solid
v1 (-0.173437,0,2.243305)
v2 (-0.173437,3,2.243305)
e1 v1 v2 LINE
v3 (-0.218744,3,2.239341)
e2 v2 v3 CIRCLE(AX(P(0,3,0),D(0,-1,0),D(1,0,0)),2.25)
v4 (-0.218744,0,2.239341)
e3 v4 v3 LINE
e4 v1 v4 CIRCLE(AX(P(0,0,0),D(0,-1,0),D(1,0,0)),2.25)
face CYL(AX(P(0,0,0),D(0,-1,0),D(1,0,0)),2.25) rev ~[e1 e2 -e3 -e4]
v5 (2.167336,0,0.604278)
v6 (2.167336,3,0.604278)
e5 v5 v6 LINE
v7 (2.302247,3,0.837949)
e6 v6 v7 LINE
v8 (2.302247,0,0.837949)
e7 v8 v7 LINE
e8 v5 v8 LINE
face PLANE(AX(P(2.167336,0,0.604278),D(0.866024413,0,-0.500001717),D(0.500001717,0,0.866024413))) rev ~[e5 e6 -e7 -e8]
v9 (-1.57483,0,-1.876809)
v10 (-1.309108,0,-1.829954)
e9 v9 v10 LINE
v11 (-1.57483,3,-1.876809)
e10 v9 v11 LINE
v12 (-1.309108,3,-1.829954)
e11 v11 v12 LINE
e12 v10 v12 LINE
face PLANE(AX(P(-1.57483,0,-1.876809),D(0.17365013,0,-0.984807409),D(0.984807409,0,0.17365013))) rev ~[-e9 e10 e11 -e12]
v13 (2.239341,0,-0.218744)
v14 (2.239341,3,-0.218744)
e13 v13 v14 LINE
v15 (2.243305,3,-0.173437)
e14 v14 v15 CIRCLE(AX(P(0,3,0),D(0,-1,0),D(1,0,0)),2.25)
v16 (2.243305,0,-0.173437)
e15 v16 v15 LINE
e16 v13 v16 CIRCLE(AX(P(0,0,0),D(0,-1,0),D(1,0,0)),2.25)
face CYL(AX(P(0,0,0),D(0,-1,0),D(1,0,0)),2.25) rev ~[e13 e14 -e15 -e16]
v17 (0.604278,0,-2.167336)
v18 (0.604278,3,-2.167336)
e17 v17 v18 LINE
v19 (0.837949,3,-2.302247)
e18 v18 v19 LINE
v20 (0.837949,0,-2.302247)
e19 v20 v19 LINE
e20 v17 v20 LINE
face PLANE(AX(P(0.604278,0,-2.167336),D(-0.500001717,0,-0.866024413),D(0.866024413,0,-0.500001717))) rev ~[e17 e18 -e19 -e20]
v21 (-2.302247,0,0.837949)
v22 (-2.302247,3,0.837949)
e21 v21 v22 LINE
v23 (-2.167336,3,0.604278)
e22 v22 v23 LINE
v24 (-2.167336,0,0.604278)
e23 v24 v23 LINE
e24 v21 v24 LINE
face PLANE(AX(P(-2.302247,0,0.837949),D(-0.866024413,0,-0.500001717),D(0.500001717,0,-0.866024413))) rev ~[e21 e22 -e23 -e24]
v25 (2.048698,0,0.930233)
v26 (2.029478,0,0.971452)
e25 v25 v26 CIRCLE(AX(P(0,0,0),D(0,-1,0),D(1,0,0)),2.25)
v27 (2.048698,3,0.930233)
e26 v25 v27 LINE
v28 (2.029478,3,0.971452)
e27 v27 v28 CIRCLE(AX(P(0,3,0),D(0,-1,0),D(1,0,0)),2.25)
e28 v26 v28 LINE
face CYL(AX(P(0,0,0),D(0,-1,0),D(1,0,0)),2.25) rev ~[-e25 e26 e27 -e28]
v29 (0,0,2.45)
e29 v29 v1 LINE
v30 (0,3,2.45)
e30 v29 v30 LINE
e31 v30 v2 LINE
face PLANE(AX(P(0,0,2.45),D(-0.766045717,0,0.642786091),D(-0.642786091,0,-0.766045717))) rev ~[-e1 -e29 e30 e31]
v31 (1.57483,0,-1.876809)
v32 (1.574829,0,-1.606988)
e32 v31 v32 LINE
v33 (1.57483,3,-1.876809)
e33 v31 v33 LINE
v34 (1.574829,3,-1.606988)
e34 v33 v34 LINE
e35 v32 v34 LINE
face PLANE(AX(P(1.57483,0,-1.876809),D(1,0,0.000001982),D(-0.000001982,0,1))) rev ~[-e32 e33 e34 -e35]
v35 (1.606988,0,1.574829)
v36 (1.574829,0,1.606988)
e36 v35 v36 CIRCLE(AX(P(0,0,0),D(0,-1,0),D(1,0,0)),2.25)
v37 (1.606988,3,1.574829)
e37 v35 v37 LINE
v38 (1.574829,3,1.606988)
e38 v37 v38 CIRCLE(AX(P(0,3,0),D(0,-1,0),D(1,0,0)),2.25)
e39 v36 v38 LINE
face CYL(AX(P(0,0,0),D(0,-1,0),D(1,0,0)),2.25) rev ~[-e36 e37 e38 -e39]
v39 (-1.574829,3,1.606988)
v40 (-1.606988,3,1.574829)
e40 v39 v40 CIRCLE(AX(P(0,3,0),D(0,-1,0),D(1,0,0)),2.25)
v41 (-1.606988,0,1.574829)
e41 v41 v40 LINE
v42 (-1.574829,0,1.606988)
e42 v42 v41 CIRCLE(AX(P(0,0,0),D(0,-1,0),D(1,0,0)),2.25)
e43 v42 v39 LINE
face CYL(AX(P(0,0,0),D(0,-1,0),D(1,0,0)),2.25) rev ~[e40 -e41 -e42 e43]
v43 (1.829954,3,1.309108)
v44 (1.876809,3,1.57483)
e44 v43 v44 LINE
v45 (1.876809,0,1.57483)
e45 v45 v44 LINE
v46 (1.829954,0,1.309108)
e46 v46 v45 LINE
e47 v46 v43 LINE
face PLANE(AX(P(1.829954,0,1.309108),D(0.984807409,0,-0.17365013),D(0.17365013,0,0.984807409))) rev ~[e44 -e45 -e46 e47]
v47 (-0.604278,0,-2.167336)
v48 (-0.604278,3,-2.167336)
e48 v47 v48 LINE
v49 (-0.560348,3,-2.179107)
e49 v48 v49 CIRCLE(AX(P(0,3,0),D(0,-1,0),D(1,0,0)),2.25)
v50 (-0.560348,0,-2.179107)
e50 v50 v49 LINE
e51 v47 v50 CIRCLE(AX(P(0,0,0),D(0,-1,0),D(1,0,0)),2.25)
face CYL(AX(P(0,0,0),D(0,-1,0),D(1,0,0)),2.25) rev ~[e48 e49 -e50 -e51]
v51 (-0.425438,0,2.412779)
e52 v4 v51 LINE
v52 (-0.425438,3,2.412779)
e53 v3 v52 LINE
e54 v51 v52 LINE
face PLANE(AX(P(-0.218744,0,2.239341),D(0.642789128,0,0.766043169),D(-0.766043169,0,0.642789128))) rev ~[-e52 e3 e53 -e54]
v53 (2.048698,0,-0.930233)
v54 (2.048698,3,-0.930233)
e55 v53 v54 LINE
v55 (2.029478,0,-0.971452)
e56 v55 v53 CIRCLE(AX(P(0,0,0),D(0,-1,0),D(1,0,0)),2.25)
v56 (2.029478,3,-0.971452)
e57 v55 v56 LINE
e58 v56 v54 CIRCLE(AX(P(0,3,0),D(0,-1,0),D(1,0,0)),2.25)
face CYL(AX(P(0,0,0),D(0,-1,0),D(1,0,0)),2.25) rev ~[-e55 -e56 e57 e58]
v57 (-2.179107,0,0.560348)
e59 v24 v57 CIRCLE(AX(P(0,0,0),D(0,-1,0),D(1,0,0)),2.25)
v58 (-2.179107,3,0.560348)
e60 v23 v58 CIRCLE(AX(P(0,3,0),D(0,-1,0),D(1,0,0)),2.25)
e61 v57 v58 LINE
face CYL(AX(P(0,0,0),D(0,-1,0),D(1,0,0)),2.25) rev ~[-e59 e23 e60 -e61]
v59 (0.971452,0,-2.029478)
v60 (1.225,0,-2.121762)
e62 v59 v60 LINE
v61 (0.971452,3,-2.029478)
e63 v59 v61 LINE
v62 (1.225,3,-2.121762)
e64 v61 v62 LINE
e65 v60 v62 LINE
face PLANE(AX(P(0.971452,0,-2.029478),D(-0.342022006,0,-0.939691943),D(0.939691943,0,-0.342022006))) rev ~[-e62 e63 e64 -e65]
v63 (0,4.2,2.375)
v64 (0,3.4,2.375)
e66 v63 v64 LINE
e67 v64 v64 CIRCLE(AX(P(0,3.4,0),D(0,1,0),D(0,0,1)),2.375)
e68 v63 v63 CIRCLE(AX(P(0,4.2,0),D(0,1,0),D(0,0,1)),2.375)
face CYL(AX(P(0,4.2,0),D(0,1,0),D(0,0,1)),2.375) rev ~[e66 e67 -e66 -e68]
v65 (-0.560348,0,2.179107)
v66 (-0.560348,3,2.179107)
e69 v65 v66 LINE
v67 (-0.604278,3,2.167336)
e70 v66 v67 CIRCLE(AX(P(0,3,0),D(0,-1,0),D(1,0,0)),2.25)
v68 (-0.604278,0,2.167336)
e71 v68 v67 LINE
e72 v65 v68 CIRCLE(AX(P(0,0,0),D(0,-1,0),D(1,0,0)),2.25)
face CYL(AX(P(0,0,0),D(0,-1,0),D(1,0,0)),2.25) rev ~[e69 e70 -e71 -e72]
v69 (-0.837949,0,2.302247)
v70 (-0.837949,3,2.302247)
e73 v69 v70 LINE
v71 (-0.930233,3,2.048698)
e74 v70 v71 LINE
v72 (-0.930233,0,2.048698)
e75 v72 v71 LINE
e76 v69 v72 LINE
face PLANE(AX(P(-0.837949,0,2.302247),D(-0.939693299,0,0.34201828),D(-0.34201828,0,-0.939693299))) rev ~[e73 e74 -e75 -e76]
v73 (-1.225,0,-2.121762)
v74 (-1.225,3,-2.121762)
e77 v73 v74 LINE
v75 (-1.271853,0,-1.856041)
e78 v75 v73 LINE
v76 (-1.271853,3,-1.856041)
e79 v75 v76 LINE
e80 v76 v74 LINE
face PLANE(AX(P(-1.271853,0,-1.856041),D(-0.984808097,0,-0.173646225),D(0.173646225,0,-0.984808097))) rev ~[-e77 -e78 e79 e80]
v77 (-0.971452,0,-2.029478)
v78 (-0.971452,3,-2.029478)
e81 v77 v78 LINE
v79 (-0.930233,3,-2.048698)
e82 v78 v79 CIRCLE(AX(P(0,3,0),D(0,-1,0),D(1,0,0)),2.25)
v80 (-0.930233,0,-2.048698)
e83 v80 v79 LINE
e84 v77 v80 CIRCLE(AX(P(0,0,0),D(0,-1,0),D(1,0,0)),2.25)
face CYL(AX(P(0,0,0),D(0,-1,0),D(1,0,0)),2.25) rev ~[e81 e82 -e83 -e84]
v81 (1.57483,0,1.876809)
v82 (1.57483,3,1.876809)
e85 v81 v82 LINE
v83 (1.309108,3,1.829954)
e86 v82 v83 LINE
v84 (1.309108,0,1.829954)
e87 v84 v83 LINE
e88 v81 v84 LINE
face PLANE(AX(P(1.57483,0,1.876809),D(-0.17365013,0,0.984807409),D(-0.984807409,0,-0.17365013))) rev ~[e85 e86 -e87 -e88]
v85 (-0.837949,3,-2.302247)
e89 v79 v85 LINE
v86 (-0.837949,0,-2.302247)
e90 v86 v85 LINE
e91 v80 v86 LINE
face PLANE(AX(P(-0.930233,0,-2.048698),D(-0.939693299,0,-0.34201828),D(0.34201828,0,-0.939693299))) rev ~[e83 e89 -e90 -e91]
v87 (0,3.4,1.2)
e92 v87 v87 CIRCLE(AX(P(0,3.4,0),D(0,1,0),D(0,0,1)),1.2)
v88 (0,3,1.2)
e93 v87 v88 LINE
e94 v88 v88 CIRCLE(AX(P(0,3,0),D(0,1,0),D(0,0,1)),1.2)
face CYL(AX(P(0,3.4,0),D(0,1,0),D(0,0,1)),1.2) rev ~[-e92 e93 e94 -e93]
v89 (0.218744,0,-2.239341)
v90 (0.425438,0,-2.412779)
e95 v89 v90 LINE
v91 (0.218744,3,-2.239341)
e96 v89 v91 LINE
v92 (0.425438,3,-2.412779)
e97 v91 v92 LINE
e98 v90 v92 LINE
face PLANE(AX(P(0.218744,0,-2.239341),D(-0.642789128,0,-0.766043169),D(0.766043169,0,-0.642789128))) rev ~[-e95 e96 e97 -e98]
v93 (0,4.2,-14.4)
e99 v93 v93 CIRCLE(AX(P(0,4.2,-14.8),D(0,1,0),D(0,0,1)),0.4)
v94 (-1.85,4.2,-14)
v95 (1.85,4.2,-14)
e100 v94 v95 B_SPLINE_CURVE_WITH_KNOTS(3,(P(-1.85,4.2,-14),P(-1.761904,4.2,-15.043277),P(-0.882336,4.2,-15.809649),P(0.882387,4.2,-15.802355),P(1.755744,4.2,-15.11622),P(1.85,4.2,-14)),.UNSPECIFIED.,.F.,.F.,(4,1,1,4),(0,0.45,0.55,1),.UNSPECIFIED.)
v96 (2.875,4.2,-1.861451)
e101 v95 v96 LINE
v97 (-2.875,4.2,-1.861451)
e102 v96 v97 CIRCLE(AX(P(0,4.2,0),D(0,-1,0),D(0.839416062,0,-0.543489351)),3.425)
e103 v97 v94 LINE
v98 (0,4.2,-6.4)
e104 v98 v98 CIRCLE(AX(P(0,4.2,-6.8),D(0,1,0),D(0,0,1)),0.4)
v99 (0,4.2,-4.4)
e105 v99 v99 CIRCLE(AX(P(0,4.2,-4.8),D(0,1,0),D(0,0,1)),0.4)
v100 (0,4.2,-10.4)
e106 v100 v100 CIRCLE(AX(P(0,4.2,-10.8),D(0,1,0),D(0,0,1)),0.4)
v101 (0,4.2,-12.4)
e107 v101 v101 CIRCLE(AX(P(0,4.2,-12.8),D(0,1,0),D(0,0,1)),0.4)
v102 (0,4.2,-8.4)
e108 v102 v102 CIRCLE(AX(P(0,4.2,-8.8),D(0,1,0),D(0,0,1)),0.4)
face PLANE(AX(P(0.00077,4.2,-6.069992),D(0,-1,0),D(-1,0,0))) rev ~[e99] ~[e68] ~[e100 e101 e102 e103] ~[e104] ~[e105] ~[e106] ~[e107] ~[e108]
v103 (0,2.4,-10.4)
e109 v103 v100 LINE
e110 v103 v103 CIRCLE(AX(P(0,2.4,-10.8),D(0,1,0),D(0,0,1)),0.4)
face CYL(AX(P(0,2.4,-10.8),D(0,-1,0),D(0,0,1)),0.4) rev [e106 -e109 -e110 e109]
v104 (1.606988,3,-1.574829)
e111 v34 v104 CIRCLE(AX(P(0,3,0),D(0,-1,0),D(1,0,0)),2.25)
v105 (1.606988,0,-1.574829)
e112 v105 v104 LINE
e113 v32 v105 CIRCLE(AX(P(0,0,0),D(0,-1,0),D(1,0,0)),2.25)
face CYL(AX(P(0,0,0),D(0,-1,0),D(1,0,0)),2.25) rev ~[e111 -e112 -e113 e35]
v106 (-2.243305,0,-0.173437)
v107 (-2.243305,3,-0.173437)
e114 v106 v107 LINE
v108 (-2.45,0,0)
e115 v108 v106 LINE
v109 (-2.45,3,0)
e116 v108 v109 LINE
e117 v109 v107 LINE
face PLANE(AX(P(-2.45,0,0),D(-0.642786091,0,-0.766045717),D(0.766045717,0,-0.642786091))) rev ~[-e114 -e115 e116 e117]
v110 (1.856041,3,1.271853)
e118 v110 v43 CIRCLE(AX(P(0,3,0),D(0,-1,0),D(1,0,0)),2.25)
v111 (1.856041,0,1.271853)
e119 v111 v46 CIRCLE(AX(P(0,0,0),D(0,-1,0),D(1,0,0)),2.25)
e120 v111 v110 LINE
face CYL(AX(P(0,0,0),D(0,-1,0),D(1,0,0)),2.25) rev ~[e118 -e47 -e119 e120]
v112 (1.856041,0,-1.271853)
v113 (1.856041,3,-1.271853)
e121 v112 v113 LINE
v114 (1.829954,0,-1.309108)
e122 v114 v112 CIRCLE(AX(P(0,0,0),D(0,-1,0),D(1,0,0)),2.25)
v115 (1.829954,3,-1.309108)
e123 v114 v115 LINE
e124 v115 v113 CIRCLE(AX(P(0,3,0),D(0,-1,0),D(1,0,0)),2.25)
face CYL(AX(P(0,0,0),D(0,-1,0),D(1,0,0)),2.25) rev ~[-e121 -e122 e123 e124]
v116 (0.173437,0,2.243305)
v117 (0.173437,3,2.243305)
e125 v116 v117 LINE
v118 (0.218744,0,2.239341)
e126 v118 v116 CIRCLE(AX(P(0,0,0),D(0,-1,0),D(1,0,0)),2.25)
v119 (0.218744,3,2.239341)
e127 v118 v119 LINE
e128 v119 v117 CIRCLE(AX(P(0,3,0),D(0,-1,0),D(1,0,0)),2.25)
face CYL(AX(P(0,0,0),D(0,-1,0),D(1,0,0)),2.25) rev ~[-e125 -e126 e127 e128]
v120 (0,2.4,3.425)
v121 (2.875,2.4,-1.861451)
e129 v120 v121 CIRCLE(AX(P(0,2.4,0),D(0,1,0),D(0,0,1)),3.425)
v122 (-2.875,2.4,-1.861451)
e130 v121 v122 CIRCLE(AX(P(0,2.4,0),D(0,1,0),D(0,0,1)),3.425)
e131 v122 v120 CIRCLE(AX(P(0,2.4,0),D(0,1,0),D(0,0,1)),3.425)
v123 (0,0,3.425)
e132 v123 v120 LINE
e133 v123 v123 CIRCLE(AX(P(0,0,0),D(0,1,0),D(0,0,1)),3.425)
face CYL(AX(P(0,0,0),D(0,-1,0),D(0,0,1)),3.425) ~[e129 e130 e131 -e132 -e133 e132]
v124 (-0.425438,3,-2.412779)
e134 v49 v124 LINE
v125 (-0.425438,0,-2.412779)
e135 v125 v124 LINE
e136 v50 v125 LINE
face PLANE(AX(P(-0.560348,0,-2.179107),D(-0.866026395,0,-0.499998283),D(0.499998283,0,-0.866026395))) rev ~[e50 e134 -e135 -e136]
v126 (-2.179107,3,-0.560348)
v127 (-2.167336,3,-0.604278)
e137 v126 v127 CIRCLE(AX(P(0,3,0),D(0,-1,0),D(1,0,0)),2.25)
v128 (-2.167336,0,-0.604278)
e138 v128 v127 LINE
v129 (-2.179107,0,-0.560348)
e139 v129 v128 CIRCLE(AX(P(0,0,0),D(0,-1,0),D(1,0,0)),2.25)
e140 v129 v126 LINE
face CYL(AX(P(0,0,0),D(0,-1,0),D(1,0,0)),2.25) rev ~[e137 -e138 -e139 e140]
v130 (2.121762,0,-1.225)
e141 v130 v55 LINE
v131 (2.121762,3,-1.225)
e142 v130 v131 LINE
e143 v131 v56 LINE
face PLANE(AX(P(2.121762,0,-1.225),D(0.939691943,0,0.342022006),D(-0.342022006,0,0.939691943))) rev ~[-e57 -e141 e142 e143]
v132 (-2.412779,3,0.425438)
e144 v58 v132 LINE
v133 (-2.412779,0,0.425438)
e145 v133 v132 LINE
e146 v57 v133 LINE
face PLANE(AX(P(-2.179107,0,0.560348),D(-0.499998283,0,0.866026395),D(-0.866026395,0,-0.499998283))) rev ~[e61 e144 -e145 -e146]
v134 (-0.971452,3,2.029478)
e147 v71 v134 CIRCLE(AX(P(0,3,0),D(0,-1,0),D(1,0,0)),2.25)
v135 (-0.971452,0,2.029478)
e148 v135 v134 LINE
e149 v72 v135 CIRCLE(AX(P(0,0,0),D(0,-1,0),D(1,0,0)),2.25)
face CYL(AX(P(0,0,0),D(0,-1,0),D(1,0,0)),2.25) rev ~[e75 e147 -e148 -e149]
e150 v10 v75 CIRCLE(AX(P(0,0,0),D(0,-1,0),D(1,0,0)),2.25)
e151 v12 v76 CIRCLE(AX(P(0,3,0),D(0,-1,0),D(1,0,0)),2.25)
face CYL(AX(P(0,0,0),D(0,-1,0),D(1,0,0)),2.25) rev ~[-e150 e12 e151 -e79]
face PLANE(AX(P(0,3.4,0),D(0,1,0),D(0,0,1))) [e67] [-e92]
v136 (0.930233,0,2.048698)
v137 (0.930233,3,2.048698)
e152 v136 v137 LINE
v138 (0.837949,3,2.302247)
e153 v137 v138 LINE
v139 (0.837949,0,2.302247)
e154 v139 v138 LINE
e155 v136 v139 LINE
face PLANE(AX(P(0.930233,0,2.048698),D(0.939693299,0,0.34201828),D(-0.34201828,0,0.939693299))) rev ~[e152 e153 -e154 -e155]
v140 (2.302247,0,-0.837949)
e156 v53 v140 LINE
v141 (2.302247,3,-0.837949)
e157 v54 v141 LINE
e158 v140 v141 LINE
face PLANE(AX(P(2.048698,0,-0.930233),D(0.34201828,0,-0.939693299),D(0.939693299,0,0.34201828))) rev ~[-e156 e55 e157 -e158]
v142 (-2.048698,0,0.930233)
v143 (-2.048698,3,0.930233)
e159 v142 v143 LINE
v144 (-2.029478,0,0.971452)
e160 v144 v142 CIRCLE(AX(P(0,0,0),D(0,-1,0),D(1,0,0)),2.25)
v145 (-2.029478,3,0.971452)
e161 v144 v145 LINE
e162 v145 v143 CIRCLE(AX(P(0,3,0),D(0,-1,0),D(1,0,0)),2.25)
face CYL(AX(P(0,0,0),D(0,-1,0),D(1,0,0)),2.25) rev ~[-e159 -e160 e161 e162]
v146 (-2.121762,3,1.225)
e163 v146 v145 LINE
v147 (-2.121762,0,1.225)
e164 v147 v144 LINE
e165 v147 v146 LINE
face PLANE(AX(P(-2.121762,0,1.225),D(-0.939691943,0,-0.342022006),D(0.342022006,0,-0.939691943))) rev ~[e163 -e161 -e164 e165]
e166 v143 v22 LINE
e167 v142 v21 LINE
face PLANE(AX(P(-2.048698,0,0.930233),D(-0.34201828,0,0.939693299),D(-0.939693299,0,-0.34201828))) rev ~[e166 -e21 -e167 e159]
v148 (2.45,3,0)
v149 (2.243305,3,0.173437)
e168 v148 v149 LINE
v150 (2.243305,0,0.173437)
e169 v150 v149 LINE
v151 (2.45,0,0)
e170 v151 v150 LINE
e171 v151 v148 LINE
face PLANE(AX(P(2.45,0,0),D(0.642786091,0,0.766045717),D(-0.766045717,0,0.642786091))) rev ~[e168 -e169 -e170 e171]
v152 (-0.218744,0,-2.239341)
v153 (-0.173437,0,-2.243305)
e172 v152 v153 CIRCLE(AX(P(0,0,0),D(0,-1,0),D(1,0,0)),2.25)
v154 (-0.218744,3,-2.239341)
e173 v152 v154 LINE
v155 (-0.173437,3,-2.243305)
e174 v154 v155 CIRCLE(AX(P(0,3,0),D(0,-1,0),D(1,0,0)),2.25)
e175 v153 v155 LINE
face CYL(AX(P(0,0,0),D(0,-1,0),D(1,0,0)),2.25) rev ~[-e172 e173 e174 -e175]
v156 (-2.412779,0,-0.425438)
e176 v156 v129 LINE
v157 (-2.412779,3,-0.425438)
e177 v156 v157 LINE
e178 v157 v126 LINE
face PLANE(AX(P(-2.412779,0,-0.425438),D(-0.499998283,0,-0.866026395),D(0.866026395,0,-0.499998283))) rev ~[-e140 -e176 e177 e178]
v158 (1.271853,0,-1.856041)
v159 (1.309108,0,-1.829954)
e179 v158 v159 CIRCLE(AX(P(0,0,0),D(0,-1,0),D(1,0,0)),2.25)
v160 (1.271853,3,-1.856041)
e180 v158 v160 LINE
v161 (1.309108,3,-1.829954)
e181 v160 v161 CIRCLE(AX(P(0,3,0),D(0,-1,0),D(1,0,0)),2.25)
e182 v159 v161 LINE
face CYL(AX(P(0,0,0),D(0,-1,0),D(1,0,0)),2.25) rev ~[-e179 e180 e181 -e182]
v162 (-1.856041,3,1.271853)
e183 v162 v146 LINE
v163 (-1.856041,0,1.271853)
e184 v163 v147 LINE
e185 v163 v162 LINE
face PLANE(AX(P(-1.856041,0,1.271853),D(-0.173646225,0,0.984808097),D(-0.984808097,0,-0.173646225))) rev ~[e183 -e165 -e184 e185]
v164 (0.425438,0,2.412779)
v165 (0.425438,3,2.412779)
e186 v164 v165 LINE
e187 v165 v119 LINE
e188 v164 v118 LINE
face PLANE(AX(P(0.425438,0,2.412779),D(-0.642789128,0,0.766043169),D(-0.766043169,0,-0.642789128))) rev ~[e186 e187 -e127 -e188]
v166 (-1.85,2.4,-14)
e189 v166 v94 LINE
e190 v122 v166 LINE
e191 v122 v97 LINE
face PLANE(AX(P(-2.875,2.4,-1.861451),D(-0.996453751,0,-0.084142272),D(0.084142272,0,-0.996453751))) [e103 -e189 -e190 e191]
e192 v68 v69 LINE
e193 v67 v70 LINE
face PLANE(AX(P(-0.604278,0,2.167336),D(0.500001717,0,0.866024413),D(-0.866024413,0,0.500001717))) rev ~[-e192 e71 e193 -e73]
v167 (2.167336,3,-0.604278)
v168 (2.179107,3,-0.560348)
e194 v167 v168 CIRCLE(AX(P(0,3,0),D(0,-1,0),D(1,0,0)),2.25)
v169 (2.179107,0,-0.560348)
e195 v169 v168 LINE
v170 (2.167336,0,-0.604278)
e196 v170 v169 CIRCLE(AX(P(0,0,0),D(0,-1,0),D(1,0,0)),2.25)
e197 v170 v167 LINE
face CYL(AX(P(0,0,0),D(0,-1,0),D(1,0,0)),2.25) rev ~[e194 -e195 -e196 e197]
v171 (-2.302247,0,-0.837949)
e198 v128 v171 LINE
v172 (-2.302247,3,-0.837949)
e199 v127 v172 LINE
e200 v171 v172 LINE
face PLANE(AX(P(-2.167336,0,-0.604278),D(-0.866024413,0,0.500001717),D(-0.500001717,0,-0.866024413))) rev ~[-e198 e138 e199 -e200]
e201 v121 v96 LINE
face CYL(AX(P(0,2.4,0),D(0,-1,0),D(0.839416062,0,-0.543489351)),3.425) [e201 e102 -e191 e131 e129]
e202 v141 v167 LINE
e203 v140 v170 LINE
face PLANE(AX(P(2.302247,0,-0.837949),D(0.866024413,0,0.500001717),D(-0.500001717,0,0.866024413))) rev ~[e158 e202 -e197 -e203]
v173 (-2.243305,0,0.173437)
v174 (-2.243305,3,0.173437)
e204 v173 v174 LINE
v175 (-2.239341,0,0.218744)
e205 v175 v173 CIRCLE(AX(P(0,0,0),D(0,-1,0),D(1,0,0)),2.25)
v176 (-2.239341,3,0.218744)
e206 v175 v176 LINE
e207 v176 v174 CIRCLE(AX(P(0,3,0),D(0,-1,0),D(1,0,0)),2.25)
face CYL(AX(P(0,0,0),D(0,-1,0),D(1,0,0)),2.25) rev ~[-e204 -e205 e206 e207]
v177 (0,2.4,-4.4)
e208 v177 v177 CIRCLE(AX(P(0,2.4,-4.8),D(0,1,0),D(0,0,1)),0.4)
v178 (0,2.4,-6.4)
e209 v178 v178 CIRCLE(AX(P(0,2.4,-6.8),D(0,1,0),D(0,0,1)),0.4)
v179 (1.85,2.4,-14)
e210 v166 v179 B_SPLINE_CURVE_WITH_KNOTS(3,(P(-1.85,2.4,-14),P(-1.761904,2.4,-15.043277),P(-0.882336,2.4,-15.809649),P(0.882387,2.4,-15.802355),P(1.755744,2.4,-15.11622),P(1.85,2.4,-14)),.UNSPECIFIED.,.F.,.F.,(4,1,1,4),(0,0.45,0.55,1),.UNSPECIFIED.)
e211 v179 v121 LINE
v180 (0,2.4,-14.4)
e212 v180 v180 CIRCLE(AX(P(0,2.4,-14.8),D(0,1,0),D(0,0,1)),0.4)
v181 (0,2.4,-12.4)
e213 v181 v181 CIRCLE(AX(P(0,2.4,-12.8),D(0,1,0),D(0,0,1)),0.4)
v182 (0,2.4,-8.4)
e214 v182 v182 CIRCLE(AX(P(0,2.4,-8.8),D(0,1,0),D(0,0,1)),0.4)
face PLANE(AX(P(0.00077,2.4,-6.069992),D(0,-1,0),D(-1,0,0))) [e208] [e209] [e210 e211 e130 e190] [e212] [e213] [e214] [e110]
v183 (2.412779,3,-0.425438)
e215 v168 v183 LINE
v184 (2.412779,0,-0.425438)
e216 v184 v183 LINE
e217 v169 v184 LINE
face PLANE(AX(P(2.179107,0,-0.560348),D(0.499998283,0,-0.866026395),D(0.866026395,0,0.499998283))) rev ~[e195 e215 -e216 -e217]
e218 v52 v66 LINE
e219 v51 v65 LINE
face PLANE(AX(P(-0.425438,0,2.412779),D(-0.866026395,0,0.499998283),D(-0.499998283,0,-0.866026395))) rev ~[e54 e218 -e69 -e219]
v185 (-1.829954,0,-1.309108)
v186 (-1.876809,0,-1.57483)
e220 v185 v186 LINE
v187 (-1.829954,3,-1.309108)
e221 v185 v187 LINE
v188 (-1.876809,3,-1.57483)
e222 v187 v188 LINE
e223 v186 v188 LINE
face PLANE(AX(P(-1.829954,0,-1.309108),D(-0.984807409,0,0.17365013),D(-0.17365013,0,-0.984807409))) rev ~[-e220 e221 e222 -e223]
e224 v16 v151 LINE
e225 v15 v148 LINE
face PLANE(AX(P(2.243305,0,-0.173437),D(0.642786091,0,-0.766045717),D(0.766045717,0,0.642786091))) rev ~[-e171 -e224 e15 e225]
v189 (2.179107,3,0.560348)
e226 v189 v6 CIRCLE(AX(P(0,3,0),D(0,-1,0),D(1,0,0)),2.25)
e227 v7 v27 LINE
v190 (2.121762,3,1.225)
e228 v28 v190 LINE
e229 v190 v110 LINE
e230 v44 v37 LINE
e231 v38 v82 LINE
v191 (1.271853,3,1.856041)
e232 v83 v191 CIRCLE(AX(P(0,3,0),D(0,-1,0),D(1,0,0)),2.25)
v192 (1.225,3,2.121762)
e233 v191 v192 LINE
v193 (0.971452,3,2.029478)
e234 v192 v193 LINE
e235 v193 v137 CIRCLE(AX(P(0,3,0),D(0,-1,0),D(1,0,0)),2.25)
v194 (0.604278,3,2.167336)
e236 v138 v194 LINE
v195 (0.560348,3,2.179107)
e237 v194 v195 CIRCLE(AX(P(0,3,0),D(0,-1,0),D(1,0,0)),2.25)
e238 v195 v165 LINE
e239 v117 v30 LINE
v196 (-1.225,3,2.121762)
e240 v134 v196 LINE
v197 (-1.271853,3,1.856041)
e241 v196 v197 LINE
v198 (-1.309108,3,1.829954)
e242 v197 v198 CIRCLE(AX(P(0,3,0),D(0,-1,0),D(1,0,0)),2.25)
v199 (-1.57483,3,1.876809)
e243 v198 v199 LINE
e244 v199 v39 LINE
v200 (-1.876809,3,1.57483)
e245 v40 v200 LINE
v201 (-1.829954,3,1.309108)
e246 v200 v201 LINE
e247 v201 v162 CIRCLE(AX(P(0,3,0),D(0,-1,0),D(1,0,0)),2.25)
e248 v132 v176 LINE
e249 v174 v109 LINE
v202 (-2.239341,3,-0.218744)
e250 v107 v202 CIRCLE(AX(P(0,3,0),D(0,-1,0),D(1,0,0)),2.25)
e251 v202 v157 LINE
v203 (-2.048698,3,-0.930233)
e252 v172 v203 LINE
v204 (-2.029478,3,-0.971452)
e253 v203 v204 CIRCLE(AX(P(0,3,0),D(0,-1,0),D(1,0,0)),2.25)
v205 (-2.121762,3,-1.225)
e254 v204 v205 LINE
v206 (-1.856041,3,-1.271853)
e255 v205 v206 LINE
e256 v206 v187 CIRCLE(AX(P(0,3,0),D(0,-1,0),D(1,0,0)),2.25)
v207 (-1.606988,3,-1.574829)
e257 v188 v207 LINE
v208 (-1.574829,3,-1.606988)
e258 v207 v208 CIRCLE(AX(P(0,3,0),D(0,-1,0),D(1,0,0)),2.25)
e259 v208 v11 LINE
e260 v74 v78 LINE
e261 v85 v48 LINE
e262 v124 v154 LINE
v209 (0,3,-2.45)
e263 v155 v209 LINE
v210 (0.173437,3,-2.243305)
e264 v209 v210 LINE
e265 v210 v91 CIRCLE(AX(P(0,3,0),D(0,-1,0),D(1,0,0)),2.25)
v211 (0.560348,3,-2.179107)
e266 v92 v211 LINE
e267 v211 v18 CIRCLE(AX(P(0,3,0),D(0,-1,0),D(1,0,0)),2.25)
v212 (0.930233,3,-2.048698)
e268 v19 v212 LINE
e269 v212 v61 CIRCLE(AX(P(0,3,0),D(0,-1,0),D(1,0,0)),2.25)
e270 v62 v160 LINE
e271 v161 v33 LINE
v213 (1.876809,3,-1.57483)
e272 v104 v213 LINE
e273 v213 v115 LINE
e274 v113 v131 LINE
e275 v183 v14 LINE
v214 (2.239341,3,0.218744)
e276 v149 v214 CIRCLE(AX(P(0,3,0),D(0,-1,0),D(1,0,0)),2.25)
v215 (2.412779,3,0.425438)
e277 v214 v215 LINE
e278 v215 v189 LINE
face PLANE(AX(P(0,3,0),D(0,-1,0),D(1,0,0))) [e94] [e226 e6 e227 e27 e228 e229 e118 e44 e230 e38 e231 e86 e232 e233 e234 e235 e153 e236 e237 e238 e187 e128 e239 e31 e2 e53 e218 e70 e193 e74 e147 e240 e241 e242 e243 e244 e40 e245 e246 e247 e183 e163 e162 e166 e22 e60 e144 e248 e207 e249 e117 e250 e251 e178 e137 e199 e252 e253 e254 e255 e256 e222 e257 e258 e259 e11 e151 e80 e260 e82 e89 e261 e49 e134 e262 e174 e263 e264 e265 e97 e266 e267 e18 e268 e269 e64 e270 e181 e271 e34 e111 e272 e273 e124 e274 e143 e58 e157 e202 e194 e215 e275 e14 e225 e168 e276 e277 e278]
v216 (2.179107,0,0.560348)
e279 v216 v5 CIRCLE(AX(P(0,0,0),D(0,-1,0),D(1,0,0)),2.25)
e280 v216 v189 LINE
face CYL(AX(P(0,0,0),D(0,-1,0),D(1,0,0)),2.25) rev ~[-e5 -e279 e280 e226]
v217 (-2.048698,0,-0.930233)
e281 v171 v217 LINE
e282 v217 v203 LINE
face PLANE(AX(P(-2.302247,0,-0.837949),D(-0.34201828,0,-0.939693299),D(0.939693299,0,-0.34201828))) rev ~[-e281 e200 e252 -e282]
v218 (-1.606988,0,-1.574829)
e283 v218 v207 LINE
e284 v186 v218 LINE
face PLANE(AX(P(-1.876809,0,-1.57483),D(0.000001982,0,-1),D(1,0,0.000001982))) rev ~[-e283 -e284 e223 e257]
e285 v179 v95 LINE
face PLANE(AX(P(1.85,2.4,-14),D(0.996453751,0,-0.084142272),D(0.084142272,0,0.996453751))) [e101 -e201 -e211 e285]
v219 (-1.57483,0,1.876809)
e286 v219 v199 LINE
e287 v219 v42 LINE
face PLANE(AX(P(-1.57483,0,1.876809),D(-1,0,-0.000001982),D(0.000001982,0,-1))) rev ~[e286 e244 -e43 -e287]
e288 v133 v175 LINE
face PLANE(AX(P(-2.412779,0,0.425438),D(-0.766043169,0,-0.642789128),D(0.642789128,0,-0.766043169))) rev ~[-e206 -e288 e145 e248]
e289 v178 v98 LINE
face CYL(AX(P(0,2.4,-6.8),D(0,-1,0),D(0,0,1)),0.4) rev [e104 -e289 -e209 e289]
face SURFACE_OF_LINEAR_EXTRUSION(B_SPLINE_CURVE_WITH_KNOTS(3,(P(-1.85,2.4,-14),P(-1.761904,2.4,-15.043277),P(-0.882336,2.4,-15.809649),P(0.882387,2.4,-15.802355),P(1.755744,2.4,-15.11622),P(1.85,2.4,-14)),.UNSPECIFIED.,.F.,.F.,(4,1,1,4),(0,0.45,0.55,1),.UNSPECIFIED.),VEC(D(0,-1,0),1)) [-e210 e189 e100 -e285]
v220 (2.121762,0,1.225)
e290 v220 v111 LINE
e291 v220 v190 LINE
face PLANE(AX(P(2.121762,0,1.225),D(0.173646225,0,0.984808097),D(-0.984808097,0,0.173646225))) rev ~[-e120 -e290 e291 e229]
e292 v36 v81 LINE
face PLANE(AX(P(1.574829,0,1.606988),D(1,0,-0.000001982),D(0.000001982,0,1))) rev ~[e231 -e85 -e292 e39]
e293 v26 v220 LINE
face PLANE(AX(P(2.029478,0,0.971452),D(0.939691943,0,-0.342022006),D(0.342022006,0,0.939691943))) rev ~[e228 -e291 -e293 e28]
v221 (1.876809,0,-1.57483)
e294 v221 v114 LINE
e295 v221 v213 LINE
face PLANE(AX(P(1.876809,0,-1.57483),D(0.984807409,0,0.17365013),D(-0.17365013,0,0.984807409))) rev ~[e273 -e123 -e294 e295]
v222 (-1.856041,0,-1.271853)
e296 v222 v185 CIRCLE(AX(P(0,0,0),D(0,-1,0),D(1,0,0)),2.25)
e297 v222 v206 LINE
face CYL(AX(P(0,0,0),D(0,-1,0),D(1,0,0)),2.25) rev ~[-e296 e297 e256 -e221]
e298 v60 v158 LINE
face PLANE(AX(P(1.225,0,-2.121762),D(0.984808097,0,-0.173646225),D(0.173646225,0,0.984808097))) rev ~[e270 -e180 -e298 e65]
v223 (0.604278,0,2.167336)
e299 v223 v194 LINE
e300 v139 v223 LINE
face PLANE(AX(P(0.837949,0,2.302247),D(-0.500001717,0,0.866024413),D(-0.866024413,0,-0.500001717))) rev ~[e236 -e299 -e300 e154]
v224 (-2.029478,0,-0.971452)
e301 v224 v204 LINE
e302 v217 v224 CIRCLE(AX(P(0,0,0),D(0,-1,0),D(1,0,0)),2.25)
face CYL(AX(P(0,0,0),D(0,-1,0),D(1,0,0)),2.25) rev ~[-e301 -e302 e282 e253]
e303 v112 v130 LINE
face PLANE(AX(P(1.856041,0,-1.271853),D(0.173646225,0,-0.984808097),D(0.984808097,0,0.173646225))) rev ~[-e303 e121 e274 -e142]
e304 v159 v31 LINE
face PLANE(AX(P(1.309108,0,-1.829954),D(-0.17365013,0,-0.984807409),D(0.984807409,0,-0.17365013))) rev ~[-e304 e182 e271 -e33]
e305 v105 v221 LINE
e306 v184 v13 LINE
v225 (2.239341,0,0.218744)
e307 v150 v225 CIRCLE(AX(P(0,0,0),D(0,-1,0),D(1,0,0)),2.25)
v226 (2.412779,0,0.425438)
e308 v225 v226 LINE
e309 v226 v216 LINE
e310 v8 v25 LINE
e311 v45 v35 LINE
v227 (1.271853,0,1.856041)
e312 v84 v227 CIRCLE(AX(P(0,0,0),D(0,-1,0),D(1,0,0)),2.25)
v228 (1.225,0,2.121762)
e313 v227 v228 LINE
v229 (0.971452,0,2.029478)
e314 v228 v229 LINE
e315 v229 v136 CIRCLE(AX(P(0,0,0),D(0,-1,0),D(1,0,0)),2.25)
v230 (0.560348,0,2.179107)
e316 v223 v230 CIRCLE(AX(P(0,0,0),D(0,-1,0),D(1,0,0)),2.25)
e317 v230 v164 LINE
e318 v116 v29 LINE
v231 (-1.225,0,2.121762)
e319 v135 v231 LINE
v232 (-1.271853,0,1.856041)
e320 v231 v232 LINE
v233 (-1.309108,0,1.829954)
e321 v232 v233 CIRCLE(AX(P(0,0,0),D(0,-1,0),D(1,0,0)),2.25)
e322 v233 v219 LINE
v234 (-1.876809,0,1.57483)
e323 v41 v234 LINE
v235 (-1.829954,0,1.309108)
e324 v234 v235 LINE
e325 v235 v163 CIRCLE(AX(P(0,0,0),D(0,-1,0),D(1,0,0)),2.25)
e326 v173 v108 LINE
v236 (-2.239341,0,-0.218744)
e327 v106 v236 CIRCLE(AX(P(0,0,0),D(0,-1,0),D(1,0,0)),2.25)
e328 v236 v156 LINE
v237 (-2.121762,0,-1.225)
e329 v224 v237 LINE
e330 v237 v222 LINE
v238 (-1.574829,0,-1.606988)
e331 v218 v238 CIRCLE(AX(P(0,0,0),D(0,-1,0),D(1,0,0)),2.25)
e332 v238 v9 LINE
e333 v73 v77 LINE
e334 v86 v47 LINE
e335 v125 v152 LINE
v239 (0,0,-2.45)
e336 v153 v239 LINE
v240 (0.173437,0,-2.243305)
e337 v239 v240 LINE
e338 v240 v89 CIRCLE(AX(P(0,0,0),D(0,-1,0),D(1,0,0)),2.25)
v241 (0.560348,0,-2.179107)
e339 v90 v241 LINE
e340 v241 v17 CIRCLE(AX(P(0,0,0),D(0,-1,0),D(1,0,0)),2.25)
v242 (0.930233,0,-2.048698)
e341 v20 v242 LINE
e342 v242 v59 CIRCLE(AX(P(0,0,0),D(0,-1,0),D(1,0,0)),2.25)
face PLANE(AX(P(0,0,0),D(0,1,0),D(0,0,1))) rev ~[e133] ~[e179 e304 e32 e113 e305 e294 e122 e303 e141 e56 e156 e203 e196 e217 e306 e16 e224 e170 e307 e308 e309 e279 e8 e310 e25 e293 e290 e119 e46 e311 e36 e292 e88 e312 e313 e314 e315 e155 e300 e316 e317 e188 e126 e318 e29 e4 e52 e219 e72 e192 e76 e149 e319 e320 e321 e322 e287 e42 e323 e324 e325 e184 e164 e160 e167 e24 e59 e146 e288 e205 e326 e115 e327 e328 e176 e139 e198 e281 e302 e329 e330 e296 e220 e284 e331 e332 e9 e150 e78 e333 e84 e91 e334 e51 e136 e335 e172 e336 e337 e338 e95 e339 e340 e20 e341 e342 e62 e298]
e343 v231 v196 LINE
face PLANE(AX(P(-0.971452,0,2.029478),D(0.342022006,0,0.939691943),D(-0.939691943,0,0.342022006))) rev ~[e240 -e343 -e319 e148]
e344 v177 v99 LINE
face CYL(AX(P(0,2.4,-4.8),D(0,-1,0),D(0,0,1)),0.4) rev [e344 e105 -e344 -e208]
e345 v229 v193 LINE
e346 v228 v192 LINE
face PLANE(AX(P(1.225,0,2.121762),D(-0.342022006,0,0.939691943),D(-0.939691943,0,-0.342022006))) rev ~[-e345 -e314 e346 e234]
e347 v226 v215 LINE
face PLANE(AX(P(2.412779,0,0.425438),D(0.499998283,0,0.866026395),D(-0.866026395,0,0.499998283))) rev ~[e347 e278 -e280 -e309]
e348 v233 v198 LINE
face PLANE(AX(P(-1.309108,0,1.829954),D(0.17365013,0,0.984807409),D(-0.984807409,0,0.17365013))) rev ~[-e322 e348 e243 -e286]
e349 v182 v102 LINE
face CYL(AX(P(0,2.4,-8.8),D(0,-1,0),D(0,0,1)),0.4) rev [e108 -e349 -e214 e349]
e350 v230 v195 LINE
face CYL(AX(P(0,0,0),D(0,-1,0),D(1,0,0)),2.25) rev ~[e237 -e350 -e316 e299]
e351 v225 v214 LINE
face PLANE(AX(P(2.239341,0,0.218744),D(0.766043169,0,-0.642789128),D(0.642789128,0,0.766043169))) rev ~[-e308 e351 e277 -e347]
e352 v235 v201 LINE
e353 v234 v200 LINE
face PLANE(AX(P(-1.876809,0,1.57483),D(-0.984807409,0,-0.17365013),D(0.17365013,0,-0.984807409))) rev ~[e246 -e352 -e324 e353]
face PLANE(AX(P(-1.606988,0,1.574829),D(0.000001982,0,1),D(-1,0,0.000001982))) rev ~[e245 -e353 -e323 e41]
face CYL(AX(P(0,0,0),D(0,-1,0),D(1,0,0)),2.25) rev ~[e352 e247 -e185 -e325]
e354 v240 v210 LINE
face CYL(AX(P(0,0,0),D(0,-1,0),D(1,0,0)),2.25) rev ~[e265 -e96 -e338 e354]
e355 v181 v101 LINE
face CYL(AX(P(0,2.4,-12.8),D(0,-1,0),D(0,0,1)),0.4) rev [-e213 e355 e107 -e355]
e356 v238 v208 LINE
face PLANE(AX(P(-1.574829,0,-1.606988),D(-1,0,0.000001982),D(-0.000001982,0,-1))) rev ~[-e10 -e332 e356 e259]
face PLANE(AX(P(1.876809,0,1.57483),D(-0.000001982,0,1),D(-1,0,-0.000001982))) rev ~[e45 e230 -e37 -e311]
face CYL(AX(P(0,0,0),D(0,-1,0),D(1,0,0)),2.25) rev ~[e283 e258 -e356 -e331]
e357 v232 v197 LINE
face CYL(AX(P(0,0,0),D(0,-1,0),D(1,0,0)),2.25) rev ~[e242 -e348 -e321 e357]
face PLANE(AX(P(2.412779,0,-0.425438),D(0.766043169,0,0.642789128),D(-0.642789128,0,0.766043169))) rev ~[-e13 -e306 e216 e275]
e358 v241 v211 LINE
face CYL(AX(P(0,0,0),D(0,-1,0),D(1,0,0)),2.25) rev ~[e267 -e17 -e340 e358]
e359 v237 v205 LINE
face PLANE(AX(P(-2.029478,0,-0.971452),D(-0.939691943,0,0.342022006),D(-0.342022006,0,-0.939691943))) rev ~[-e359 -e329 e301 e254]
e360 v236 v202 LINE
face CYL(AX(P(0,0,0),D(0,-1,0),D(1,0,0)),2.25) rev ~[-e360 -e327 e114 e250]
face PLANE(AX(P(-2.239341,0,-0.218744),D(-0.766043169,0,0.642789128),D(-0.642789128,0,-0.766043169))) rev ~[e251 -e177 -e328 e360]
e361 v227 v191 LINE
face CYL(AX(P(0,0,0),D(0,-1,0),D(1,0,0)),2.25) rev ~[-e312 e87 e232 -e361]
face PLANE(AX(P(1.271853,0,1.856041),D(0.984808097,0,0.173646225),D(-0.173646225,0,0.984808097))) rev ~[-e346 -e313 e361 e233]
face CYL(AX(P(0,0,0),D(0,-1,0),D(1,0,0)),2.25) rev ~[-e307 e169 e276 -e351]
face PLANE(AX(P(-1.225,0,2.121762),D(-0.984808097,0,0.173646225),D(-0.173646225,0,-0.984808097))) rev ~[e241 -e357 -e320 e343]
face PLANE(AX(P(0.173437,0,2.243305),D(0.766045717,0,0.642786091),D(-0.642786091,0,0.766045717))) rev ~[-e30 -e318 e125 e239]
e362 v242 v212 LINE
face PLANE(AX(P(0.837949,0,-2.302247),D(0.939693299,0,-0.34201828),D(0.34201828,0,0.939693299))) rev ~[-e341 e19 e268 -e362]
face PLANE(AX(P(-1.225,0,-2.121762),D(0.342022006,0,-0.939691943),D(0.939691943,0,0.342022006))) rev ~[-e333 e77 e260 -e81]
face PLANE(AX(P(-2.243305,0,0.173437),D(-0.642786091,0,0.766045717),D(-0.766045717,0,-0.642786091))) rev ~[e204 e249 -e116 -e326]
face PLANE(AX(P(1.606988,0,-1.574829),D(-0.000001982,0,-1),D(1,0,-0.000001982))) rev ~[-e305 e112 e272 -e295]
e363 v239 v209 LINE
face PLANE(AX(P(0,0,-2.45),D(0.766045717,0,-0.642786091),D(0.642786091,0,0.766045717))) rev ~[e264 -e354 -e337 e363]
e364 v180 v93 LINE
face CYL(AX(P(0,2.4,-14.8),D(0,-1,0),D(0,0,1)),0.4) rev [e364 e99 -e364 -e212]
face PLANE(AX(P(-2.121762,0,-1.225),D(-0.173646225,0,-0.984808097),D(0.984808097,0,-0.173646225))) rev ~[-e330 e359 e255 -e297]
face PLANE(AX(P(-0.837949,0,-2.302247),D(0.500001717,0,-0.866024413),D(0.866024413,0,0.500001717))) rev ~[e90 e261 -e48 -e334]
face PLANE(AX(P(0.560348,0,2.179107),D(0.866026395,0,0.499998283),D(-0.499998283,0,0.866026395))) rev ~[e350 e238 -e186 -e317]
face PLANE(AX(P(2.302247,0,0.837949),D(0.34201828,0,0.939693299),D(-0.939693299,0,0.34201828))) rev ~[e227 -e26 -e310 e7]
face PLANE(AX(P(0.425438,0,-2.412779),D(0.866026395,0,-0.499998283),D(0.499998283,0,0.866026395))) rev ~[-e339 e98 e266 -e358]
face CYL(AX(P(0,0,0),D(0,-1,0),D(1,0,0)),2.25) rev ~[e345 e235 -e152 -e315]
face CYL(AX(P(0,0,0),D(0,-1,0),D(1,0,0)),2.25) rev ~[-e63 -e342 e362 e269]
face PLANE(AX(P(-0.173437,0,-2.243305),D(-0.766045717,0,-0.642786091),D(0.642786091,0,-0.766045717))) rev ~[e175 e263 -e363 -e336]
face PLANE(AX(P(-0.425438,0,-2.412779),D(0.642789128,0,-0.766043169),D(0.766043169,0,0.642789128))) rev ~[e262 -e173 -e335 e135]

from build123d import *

# Parameters (mm, degrees)
SKETCH1_R           = 3.425
HUB_DEPTH           = 2.4
SKETCH2_R           = 0.4
BOSS_EXTRUDE2_DEPTH = 1.8
SKETCH3_R           = 2.375
CUT_EXTRUDE1_DEPTH  = 0.8
SKETCH4_R           = 1.2
CUT_EXTRUDE2_DEPTH  = 17.520612
CUT_EXTRUDE3_DEPTH  = 3
CIRPATTERN1_COUNT   = 36
SKETCH6_R           = 2.25
CUT_EXTRUDE4_DEPTH  = 3


with BuildPart() as part:
    # Sketch1 → HUB (new body)
    with BuildSketch(Plane(origin=(0, 0, 0), x_dir=(1, 0, 0), z_dir=(0, 1, 0))):
        with Locations(Location((0, 0, 0), (0, 0, 270))):
            Circle(SKETCH1_R)
    extrude(amount=HUB_DEPTH)

    # Sketch2 → Boss-Extrude2 (add)
    with BuildSketch(Plane(origin=(0, 2.4, 0), x_dir=(1, 0, 0), z_dir=(0, 1, 0))):
        with BuildLine():
            Line((-2.875, 1.861451), (-1.85, 14))
            add(Edge.make_bspline(
                [(-1.85, 14), (-1.761904, 15.043277), (-0.882336, 15.809649), (0.882387, 15.802355), (1.755744, 15.11622), (1.85, 14)],
                knots=[0, 0, 0, 0, 0.45, 0.55, 1, 1, 1, 1], degree=3))
            Line((1.85, 14), (2.875, 1.861451))
            ThreePointArc((2.875, 1.861451), (0, -3.425), (-2.875, 1.861451))
        make_face()
        with Locations(Location((0, 14.8, 0), (0, 0, 270))):
            Circle(SKETCH2_R, mode=Mode.SUBTRACT)
        with Locations(Location((0, 12.8, 0), (0, 0, 270))):
            Circle(SKETCH2_R, mode=Mode.SUBTRACT)
        with Locations(Location((0, 10.8, 0), (0, 0, 270))):
            Circle(SKETCH2_R, mode=Mode.SUBTRACT)
        with Locations(Location((0, 8.8, 0), (0, 0, 270))):
            Circle(SKETCH2_R, mode=Mode.SUBTRACT)
        with Locations(Location((0, 6.8, 0), (0, 0, 270))):
            Circle(SKETCH2_R, mode=Mode.SUBTRACT)
        with Locations(Location((0, 4.8, 0), (0, 0, 270))):
            Circle(SKETCH2_R, mode=Mode.SUBTRACT)
    extrude(amount=BOSS_EXTRUDE2_DEPTH)

    # Sketch3 → Cut-Extrude1 (cut)
    with BuildSketch(Plane(origin=(0, 4.2, 0), x_dir=(1, 0, 0), z_dir=(0, 1, 0))):
        with Locations(Location((0, 0, 0), (0, 0, 270))):
            Circle(SKETCH3_R)
    extrude(amount=-CUT_EXTRUDE1_DEPTH, mode=Mode.SUBTRACT)

    # Sketch4 → Cut-Extrude2 (cut, through all)
    with BuildSketch(Plane(origin=(0, 3.4, 0), x_dir=(1, 0, 0), z_dir=(0, 1, 0))):
        with Locations(Location((0, 0, 0), (0, 0, 270))):
            Circle(SKETCH4_R)
    extrude(amount=-CUT_EXTRUDE2_DEPTH, mode=Mode.SUBTRACT)

    # Sketch5 → Cut-Extrude3 (cut)
    with BuildSketch(Plane.XZ):
        with BuildLine():
            Line((0, 2.45), (-0.173437, 2.243305))
            ThreePointArc((-0.173437, 2.243305), (0, 2.25), (0.173437, 2.243305))
            Line((0.173437, 2.243305), (0, 2.45))
        make_face()
    cut_extrude3 = extrude(amount=-CUT_EXTRUDE3_DEPTH, mode=Mode.SUBTRACT)

    # CirPattern1: Cut-Extrude3 ×36 about axis
    cirpattern1_axis = Axis((0, 0, 0), (0, 1, 0))
    for i in range(1, CIRPATTERN1_COUNT):
        add(cut_extrude3.rotate(cirpattern1_axis, i * 360 / CIRPATTERN1_COUNT), mode=Mode.SUBTRACT)

    # Sketch6 → Cut-Extrude4 (cut)
    with BuildSketch(Plane.XZ):
        Circle(SKETCH6_R)
    extrude(amount=-CUT_EXTRUDE4_DEPTH, mode=Mode.SUBTRACT)


solid = part.part
